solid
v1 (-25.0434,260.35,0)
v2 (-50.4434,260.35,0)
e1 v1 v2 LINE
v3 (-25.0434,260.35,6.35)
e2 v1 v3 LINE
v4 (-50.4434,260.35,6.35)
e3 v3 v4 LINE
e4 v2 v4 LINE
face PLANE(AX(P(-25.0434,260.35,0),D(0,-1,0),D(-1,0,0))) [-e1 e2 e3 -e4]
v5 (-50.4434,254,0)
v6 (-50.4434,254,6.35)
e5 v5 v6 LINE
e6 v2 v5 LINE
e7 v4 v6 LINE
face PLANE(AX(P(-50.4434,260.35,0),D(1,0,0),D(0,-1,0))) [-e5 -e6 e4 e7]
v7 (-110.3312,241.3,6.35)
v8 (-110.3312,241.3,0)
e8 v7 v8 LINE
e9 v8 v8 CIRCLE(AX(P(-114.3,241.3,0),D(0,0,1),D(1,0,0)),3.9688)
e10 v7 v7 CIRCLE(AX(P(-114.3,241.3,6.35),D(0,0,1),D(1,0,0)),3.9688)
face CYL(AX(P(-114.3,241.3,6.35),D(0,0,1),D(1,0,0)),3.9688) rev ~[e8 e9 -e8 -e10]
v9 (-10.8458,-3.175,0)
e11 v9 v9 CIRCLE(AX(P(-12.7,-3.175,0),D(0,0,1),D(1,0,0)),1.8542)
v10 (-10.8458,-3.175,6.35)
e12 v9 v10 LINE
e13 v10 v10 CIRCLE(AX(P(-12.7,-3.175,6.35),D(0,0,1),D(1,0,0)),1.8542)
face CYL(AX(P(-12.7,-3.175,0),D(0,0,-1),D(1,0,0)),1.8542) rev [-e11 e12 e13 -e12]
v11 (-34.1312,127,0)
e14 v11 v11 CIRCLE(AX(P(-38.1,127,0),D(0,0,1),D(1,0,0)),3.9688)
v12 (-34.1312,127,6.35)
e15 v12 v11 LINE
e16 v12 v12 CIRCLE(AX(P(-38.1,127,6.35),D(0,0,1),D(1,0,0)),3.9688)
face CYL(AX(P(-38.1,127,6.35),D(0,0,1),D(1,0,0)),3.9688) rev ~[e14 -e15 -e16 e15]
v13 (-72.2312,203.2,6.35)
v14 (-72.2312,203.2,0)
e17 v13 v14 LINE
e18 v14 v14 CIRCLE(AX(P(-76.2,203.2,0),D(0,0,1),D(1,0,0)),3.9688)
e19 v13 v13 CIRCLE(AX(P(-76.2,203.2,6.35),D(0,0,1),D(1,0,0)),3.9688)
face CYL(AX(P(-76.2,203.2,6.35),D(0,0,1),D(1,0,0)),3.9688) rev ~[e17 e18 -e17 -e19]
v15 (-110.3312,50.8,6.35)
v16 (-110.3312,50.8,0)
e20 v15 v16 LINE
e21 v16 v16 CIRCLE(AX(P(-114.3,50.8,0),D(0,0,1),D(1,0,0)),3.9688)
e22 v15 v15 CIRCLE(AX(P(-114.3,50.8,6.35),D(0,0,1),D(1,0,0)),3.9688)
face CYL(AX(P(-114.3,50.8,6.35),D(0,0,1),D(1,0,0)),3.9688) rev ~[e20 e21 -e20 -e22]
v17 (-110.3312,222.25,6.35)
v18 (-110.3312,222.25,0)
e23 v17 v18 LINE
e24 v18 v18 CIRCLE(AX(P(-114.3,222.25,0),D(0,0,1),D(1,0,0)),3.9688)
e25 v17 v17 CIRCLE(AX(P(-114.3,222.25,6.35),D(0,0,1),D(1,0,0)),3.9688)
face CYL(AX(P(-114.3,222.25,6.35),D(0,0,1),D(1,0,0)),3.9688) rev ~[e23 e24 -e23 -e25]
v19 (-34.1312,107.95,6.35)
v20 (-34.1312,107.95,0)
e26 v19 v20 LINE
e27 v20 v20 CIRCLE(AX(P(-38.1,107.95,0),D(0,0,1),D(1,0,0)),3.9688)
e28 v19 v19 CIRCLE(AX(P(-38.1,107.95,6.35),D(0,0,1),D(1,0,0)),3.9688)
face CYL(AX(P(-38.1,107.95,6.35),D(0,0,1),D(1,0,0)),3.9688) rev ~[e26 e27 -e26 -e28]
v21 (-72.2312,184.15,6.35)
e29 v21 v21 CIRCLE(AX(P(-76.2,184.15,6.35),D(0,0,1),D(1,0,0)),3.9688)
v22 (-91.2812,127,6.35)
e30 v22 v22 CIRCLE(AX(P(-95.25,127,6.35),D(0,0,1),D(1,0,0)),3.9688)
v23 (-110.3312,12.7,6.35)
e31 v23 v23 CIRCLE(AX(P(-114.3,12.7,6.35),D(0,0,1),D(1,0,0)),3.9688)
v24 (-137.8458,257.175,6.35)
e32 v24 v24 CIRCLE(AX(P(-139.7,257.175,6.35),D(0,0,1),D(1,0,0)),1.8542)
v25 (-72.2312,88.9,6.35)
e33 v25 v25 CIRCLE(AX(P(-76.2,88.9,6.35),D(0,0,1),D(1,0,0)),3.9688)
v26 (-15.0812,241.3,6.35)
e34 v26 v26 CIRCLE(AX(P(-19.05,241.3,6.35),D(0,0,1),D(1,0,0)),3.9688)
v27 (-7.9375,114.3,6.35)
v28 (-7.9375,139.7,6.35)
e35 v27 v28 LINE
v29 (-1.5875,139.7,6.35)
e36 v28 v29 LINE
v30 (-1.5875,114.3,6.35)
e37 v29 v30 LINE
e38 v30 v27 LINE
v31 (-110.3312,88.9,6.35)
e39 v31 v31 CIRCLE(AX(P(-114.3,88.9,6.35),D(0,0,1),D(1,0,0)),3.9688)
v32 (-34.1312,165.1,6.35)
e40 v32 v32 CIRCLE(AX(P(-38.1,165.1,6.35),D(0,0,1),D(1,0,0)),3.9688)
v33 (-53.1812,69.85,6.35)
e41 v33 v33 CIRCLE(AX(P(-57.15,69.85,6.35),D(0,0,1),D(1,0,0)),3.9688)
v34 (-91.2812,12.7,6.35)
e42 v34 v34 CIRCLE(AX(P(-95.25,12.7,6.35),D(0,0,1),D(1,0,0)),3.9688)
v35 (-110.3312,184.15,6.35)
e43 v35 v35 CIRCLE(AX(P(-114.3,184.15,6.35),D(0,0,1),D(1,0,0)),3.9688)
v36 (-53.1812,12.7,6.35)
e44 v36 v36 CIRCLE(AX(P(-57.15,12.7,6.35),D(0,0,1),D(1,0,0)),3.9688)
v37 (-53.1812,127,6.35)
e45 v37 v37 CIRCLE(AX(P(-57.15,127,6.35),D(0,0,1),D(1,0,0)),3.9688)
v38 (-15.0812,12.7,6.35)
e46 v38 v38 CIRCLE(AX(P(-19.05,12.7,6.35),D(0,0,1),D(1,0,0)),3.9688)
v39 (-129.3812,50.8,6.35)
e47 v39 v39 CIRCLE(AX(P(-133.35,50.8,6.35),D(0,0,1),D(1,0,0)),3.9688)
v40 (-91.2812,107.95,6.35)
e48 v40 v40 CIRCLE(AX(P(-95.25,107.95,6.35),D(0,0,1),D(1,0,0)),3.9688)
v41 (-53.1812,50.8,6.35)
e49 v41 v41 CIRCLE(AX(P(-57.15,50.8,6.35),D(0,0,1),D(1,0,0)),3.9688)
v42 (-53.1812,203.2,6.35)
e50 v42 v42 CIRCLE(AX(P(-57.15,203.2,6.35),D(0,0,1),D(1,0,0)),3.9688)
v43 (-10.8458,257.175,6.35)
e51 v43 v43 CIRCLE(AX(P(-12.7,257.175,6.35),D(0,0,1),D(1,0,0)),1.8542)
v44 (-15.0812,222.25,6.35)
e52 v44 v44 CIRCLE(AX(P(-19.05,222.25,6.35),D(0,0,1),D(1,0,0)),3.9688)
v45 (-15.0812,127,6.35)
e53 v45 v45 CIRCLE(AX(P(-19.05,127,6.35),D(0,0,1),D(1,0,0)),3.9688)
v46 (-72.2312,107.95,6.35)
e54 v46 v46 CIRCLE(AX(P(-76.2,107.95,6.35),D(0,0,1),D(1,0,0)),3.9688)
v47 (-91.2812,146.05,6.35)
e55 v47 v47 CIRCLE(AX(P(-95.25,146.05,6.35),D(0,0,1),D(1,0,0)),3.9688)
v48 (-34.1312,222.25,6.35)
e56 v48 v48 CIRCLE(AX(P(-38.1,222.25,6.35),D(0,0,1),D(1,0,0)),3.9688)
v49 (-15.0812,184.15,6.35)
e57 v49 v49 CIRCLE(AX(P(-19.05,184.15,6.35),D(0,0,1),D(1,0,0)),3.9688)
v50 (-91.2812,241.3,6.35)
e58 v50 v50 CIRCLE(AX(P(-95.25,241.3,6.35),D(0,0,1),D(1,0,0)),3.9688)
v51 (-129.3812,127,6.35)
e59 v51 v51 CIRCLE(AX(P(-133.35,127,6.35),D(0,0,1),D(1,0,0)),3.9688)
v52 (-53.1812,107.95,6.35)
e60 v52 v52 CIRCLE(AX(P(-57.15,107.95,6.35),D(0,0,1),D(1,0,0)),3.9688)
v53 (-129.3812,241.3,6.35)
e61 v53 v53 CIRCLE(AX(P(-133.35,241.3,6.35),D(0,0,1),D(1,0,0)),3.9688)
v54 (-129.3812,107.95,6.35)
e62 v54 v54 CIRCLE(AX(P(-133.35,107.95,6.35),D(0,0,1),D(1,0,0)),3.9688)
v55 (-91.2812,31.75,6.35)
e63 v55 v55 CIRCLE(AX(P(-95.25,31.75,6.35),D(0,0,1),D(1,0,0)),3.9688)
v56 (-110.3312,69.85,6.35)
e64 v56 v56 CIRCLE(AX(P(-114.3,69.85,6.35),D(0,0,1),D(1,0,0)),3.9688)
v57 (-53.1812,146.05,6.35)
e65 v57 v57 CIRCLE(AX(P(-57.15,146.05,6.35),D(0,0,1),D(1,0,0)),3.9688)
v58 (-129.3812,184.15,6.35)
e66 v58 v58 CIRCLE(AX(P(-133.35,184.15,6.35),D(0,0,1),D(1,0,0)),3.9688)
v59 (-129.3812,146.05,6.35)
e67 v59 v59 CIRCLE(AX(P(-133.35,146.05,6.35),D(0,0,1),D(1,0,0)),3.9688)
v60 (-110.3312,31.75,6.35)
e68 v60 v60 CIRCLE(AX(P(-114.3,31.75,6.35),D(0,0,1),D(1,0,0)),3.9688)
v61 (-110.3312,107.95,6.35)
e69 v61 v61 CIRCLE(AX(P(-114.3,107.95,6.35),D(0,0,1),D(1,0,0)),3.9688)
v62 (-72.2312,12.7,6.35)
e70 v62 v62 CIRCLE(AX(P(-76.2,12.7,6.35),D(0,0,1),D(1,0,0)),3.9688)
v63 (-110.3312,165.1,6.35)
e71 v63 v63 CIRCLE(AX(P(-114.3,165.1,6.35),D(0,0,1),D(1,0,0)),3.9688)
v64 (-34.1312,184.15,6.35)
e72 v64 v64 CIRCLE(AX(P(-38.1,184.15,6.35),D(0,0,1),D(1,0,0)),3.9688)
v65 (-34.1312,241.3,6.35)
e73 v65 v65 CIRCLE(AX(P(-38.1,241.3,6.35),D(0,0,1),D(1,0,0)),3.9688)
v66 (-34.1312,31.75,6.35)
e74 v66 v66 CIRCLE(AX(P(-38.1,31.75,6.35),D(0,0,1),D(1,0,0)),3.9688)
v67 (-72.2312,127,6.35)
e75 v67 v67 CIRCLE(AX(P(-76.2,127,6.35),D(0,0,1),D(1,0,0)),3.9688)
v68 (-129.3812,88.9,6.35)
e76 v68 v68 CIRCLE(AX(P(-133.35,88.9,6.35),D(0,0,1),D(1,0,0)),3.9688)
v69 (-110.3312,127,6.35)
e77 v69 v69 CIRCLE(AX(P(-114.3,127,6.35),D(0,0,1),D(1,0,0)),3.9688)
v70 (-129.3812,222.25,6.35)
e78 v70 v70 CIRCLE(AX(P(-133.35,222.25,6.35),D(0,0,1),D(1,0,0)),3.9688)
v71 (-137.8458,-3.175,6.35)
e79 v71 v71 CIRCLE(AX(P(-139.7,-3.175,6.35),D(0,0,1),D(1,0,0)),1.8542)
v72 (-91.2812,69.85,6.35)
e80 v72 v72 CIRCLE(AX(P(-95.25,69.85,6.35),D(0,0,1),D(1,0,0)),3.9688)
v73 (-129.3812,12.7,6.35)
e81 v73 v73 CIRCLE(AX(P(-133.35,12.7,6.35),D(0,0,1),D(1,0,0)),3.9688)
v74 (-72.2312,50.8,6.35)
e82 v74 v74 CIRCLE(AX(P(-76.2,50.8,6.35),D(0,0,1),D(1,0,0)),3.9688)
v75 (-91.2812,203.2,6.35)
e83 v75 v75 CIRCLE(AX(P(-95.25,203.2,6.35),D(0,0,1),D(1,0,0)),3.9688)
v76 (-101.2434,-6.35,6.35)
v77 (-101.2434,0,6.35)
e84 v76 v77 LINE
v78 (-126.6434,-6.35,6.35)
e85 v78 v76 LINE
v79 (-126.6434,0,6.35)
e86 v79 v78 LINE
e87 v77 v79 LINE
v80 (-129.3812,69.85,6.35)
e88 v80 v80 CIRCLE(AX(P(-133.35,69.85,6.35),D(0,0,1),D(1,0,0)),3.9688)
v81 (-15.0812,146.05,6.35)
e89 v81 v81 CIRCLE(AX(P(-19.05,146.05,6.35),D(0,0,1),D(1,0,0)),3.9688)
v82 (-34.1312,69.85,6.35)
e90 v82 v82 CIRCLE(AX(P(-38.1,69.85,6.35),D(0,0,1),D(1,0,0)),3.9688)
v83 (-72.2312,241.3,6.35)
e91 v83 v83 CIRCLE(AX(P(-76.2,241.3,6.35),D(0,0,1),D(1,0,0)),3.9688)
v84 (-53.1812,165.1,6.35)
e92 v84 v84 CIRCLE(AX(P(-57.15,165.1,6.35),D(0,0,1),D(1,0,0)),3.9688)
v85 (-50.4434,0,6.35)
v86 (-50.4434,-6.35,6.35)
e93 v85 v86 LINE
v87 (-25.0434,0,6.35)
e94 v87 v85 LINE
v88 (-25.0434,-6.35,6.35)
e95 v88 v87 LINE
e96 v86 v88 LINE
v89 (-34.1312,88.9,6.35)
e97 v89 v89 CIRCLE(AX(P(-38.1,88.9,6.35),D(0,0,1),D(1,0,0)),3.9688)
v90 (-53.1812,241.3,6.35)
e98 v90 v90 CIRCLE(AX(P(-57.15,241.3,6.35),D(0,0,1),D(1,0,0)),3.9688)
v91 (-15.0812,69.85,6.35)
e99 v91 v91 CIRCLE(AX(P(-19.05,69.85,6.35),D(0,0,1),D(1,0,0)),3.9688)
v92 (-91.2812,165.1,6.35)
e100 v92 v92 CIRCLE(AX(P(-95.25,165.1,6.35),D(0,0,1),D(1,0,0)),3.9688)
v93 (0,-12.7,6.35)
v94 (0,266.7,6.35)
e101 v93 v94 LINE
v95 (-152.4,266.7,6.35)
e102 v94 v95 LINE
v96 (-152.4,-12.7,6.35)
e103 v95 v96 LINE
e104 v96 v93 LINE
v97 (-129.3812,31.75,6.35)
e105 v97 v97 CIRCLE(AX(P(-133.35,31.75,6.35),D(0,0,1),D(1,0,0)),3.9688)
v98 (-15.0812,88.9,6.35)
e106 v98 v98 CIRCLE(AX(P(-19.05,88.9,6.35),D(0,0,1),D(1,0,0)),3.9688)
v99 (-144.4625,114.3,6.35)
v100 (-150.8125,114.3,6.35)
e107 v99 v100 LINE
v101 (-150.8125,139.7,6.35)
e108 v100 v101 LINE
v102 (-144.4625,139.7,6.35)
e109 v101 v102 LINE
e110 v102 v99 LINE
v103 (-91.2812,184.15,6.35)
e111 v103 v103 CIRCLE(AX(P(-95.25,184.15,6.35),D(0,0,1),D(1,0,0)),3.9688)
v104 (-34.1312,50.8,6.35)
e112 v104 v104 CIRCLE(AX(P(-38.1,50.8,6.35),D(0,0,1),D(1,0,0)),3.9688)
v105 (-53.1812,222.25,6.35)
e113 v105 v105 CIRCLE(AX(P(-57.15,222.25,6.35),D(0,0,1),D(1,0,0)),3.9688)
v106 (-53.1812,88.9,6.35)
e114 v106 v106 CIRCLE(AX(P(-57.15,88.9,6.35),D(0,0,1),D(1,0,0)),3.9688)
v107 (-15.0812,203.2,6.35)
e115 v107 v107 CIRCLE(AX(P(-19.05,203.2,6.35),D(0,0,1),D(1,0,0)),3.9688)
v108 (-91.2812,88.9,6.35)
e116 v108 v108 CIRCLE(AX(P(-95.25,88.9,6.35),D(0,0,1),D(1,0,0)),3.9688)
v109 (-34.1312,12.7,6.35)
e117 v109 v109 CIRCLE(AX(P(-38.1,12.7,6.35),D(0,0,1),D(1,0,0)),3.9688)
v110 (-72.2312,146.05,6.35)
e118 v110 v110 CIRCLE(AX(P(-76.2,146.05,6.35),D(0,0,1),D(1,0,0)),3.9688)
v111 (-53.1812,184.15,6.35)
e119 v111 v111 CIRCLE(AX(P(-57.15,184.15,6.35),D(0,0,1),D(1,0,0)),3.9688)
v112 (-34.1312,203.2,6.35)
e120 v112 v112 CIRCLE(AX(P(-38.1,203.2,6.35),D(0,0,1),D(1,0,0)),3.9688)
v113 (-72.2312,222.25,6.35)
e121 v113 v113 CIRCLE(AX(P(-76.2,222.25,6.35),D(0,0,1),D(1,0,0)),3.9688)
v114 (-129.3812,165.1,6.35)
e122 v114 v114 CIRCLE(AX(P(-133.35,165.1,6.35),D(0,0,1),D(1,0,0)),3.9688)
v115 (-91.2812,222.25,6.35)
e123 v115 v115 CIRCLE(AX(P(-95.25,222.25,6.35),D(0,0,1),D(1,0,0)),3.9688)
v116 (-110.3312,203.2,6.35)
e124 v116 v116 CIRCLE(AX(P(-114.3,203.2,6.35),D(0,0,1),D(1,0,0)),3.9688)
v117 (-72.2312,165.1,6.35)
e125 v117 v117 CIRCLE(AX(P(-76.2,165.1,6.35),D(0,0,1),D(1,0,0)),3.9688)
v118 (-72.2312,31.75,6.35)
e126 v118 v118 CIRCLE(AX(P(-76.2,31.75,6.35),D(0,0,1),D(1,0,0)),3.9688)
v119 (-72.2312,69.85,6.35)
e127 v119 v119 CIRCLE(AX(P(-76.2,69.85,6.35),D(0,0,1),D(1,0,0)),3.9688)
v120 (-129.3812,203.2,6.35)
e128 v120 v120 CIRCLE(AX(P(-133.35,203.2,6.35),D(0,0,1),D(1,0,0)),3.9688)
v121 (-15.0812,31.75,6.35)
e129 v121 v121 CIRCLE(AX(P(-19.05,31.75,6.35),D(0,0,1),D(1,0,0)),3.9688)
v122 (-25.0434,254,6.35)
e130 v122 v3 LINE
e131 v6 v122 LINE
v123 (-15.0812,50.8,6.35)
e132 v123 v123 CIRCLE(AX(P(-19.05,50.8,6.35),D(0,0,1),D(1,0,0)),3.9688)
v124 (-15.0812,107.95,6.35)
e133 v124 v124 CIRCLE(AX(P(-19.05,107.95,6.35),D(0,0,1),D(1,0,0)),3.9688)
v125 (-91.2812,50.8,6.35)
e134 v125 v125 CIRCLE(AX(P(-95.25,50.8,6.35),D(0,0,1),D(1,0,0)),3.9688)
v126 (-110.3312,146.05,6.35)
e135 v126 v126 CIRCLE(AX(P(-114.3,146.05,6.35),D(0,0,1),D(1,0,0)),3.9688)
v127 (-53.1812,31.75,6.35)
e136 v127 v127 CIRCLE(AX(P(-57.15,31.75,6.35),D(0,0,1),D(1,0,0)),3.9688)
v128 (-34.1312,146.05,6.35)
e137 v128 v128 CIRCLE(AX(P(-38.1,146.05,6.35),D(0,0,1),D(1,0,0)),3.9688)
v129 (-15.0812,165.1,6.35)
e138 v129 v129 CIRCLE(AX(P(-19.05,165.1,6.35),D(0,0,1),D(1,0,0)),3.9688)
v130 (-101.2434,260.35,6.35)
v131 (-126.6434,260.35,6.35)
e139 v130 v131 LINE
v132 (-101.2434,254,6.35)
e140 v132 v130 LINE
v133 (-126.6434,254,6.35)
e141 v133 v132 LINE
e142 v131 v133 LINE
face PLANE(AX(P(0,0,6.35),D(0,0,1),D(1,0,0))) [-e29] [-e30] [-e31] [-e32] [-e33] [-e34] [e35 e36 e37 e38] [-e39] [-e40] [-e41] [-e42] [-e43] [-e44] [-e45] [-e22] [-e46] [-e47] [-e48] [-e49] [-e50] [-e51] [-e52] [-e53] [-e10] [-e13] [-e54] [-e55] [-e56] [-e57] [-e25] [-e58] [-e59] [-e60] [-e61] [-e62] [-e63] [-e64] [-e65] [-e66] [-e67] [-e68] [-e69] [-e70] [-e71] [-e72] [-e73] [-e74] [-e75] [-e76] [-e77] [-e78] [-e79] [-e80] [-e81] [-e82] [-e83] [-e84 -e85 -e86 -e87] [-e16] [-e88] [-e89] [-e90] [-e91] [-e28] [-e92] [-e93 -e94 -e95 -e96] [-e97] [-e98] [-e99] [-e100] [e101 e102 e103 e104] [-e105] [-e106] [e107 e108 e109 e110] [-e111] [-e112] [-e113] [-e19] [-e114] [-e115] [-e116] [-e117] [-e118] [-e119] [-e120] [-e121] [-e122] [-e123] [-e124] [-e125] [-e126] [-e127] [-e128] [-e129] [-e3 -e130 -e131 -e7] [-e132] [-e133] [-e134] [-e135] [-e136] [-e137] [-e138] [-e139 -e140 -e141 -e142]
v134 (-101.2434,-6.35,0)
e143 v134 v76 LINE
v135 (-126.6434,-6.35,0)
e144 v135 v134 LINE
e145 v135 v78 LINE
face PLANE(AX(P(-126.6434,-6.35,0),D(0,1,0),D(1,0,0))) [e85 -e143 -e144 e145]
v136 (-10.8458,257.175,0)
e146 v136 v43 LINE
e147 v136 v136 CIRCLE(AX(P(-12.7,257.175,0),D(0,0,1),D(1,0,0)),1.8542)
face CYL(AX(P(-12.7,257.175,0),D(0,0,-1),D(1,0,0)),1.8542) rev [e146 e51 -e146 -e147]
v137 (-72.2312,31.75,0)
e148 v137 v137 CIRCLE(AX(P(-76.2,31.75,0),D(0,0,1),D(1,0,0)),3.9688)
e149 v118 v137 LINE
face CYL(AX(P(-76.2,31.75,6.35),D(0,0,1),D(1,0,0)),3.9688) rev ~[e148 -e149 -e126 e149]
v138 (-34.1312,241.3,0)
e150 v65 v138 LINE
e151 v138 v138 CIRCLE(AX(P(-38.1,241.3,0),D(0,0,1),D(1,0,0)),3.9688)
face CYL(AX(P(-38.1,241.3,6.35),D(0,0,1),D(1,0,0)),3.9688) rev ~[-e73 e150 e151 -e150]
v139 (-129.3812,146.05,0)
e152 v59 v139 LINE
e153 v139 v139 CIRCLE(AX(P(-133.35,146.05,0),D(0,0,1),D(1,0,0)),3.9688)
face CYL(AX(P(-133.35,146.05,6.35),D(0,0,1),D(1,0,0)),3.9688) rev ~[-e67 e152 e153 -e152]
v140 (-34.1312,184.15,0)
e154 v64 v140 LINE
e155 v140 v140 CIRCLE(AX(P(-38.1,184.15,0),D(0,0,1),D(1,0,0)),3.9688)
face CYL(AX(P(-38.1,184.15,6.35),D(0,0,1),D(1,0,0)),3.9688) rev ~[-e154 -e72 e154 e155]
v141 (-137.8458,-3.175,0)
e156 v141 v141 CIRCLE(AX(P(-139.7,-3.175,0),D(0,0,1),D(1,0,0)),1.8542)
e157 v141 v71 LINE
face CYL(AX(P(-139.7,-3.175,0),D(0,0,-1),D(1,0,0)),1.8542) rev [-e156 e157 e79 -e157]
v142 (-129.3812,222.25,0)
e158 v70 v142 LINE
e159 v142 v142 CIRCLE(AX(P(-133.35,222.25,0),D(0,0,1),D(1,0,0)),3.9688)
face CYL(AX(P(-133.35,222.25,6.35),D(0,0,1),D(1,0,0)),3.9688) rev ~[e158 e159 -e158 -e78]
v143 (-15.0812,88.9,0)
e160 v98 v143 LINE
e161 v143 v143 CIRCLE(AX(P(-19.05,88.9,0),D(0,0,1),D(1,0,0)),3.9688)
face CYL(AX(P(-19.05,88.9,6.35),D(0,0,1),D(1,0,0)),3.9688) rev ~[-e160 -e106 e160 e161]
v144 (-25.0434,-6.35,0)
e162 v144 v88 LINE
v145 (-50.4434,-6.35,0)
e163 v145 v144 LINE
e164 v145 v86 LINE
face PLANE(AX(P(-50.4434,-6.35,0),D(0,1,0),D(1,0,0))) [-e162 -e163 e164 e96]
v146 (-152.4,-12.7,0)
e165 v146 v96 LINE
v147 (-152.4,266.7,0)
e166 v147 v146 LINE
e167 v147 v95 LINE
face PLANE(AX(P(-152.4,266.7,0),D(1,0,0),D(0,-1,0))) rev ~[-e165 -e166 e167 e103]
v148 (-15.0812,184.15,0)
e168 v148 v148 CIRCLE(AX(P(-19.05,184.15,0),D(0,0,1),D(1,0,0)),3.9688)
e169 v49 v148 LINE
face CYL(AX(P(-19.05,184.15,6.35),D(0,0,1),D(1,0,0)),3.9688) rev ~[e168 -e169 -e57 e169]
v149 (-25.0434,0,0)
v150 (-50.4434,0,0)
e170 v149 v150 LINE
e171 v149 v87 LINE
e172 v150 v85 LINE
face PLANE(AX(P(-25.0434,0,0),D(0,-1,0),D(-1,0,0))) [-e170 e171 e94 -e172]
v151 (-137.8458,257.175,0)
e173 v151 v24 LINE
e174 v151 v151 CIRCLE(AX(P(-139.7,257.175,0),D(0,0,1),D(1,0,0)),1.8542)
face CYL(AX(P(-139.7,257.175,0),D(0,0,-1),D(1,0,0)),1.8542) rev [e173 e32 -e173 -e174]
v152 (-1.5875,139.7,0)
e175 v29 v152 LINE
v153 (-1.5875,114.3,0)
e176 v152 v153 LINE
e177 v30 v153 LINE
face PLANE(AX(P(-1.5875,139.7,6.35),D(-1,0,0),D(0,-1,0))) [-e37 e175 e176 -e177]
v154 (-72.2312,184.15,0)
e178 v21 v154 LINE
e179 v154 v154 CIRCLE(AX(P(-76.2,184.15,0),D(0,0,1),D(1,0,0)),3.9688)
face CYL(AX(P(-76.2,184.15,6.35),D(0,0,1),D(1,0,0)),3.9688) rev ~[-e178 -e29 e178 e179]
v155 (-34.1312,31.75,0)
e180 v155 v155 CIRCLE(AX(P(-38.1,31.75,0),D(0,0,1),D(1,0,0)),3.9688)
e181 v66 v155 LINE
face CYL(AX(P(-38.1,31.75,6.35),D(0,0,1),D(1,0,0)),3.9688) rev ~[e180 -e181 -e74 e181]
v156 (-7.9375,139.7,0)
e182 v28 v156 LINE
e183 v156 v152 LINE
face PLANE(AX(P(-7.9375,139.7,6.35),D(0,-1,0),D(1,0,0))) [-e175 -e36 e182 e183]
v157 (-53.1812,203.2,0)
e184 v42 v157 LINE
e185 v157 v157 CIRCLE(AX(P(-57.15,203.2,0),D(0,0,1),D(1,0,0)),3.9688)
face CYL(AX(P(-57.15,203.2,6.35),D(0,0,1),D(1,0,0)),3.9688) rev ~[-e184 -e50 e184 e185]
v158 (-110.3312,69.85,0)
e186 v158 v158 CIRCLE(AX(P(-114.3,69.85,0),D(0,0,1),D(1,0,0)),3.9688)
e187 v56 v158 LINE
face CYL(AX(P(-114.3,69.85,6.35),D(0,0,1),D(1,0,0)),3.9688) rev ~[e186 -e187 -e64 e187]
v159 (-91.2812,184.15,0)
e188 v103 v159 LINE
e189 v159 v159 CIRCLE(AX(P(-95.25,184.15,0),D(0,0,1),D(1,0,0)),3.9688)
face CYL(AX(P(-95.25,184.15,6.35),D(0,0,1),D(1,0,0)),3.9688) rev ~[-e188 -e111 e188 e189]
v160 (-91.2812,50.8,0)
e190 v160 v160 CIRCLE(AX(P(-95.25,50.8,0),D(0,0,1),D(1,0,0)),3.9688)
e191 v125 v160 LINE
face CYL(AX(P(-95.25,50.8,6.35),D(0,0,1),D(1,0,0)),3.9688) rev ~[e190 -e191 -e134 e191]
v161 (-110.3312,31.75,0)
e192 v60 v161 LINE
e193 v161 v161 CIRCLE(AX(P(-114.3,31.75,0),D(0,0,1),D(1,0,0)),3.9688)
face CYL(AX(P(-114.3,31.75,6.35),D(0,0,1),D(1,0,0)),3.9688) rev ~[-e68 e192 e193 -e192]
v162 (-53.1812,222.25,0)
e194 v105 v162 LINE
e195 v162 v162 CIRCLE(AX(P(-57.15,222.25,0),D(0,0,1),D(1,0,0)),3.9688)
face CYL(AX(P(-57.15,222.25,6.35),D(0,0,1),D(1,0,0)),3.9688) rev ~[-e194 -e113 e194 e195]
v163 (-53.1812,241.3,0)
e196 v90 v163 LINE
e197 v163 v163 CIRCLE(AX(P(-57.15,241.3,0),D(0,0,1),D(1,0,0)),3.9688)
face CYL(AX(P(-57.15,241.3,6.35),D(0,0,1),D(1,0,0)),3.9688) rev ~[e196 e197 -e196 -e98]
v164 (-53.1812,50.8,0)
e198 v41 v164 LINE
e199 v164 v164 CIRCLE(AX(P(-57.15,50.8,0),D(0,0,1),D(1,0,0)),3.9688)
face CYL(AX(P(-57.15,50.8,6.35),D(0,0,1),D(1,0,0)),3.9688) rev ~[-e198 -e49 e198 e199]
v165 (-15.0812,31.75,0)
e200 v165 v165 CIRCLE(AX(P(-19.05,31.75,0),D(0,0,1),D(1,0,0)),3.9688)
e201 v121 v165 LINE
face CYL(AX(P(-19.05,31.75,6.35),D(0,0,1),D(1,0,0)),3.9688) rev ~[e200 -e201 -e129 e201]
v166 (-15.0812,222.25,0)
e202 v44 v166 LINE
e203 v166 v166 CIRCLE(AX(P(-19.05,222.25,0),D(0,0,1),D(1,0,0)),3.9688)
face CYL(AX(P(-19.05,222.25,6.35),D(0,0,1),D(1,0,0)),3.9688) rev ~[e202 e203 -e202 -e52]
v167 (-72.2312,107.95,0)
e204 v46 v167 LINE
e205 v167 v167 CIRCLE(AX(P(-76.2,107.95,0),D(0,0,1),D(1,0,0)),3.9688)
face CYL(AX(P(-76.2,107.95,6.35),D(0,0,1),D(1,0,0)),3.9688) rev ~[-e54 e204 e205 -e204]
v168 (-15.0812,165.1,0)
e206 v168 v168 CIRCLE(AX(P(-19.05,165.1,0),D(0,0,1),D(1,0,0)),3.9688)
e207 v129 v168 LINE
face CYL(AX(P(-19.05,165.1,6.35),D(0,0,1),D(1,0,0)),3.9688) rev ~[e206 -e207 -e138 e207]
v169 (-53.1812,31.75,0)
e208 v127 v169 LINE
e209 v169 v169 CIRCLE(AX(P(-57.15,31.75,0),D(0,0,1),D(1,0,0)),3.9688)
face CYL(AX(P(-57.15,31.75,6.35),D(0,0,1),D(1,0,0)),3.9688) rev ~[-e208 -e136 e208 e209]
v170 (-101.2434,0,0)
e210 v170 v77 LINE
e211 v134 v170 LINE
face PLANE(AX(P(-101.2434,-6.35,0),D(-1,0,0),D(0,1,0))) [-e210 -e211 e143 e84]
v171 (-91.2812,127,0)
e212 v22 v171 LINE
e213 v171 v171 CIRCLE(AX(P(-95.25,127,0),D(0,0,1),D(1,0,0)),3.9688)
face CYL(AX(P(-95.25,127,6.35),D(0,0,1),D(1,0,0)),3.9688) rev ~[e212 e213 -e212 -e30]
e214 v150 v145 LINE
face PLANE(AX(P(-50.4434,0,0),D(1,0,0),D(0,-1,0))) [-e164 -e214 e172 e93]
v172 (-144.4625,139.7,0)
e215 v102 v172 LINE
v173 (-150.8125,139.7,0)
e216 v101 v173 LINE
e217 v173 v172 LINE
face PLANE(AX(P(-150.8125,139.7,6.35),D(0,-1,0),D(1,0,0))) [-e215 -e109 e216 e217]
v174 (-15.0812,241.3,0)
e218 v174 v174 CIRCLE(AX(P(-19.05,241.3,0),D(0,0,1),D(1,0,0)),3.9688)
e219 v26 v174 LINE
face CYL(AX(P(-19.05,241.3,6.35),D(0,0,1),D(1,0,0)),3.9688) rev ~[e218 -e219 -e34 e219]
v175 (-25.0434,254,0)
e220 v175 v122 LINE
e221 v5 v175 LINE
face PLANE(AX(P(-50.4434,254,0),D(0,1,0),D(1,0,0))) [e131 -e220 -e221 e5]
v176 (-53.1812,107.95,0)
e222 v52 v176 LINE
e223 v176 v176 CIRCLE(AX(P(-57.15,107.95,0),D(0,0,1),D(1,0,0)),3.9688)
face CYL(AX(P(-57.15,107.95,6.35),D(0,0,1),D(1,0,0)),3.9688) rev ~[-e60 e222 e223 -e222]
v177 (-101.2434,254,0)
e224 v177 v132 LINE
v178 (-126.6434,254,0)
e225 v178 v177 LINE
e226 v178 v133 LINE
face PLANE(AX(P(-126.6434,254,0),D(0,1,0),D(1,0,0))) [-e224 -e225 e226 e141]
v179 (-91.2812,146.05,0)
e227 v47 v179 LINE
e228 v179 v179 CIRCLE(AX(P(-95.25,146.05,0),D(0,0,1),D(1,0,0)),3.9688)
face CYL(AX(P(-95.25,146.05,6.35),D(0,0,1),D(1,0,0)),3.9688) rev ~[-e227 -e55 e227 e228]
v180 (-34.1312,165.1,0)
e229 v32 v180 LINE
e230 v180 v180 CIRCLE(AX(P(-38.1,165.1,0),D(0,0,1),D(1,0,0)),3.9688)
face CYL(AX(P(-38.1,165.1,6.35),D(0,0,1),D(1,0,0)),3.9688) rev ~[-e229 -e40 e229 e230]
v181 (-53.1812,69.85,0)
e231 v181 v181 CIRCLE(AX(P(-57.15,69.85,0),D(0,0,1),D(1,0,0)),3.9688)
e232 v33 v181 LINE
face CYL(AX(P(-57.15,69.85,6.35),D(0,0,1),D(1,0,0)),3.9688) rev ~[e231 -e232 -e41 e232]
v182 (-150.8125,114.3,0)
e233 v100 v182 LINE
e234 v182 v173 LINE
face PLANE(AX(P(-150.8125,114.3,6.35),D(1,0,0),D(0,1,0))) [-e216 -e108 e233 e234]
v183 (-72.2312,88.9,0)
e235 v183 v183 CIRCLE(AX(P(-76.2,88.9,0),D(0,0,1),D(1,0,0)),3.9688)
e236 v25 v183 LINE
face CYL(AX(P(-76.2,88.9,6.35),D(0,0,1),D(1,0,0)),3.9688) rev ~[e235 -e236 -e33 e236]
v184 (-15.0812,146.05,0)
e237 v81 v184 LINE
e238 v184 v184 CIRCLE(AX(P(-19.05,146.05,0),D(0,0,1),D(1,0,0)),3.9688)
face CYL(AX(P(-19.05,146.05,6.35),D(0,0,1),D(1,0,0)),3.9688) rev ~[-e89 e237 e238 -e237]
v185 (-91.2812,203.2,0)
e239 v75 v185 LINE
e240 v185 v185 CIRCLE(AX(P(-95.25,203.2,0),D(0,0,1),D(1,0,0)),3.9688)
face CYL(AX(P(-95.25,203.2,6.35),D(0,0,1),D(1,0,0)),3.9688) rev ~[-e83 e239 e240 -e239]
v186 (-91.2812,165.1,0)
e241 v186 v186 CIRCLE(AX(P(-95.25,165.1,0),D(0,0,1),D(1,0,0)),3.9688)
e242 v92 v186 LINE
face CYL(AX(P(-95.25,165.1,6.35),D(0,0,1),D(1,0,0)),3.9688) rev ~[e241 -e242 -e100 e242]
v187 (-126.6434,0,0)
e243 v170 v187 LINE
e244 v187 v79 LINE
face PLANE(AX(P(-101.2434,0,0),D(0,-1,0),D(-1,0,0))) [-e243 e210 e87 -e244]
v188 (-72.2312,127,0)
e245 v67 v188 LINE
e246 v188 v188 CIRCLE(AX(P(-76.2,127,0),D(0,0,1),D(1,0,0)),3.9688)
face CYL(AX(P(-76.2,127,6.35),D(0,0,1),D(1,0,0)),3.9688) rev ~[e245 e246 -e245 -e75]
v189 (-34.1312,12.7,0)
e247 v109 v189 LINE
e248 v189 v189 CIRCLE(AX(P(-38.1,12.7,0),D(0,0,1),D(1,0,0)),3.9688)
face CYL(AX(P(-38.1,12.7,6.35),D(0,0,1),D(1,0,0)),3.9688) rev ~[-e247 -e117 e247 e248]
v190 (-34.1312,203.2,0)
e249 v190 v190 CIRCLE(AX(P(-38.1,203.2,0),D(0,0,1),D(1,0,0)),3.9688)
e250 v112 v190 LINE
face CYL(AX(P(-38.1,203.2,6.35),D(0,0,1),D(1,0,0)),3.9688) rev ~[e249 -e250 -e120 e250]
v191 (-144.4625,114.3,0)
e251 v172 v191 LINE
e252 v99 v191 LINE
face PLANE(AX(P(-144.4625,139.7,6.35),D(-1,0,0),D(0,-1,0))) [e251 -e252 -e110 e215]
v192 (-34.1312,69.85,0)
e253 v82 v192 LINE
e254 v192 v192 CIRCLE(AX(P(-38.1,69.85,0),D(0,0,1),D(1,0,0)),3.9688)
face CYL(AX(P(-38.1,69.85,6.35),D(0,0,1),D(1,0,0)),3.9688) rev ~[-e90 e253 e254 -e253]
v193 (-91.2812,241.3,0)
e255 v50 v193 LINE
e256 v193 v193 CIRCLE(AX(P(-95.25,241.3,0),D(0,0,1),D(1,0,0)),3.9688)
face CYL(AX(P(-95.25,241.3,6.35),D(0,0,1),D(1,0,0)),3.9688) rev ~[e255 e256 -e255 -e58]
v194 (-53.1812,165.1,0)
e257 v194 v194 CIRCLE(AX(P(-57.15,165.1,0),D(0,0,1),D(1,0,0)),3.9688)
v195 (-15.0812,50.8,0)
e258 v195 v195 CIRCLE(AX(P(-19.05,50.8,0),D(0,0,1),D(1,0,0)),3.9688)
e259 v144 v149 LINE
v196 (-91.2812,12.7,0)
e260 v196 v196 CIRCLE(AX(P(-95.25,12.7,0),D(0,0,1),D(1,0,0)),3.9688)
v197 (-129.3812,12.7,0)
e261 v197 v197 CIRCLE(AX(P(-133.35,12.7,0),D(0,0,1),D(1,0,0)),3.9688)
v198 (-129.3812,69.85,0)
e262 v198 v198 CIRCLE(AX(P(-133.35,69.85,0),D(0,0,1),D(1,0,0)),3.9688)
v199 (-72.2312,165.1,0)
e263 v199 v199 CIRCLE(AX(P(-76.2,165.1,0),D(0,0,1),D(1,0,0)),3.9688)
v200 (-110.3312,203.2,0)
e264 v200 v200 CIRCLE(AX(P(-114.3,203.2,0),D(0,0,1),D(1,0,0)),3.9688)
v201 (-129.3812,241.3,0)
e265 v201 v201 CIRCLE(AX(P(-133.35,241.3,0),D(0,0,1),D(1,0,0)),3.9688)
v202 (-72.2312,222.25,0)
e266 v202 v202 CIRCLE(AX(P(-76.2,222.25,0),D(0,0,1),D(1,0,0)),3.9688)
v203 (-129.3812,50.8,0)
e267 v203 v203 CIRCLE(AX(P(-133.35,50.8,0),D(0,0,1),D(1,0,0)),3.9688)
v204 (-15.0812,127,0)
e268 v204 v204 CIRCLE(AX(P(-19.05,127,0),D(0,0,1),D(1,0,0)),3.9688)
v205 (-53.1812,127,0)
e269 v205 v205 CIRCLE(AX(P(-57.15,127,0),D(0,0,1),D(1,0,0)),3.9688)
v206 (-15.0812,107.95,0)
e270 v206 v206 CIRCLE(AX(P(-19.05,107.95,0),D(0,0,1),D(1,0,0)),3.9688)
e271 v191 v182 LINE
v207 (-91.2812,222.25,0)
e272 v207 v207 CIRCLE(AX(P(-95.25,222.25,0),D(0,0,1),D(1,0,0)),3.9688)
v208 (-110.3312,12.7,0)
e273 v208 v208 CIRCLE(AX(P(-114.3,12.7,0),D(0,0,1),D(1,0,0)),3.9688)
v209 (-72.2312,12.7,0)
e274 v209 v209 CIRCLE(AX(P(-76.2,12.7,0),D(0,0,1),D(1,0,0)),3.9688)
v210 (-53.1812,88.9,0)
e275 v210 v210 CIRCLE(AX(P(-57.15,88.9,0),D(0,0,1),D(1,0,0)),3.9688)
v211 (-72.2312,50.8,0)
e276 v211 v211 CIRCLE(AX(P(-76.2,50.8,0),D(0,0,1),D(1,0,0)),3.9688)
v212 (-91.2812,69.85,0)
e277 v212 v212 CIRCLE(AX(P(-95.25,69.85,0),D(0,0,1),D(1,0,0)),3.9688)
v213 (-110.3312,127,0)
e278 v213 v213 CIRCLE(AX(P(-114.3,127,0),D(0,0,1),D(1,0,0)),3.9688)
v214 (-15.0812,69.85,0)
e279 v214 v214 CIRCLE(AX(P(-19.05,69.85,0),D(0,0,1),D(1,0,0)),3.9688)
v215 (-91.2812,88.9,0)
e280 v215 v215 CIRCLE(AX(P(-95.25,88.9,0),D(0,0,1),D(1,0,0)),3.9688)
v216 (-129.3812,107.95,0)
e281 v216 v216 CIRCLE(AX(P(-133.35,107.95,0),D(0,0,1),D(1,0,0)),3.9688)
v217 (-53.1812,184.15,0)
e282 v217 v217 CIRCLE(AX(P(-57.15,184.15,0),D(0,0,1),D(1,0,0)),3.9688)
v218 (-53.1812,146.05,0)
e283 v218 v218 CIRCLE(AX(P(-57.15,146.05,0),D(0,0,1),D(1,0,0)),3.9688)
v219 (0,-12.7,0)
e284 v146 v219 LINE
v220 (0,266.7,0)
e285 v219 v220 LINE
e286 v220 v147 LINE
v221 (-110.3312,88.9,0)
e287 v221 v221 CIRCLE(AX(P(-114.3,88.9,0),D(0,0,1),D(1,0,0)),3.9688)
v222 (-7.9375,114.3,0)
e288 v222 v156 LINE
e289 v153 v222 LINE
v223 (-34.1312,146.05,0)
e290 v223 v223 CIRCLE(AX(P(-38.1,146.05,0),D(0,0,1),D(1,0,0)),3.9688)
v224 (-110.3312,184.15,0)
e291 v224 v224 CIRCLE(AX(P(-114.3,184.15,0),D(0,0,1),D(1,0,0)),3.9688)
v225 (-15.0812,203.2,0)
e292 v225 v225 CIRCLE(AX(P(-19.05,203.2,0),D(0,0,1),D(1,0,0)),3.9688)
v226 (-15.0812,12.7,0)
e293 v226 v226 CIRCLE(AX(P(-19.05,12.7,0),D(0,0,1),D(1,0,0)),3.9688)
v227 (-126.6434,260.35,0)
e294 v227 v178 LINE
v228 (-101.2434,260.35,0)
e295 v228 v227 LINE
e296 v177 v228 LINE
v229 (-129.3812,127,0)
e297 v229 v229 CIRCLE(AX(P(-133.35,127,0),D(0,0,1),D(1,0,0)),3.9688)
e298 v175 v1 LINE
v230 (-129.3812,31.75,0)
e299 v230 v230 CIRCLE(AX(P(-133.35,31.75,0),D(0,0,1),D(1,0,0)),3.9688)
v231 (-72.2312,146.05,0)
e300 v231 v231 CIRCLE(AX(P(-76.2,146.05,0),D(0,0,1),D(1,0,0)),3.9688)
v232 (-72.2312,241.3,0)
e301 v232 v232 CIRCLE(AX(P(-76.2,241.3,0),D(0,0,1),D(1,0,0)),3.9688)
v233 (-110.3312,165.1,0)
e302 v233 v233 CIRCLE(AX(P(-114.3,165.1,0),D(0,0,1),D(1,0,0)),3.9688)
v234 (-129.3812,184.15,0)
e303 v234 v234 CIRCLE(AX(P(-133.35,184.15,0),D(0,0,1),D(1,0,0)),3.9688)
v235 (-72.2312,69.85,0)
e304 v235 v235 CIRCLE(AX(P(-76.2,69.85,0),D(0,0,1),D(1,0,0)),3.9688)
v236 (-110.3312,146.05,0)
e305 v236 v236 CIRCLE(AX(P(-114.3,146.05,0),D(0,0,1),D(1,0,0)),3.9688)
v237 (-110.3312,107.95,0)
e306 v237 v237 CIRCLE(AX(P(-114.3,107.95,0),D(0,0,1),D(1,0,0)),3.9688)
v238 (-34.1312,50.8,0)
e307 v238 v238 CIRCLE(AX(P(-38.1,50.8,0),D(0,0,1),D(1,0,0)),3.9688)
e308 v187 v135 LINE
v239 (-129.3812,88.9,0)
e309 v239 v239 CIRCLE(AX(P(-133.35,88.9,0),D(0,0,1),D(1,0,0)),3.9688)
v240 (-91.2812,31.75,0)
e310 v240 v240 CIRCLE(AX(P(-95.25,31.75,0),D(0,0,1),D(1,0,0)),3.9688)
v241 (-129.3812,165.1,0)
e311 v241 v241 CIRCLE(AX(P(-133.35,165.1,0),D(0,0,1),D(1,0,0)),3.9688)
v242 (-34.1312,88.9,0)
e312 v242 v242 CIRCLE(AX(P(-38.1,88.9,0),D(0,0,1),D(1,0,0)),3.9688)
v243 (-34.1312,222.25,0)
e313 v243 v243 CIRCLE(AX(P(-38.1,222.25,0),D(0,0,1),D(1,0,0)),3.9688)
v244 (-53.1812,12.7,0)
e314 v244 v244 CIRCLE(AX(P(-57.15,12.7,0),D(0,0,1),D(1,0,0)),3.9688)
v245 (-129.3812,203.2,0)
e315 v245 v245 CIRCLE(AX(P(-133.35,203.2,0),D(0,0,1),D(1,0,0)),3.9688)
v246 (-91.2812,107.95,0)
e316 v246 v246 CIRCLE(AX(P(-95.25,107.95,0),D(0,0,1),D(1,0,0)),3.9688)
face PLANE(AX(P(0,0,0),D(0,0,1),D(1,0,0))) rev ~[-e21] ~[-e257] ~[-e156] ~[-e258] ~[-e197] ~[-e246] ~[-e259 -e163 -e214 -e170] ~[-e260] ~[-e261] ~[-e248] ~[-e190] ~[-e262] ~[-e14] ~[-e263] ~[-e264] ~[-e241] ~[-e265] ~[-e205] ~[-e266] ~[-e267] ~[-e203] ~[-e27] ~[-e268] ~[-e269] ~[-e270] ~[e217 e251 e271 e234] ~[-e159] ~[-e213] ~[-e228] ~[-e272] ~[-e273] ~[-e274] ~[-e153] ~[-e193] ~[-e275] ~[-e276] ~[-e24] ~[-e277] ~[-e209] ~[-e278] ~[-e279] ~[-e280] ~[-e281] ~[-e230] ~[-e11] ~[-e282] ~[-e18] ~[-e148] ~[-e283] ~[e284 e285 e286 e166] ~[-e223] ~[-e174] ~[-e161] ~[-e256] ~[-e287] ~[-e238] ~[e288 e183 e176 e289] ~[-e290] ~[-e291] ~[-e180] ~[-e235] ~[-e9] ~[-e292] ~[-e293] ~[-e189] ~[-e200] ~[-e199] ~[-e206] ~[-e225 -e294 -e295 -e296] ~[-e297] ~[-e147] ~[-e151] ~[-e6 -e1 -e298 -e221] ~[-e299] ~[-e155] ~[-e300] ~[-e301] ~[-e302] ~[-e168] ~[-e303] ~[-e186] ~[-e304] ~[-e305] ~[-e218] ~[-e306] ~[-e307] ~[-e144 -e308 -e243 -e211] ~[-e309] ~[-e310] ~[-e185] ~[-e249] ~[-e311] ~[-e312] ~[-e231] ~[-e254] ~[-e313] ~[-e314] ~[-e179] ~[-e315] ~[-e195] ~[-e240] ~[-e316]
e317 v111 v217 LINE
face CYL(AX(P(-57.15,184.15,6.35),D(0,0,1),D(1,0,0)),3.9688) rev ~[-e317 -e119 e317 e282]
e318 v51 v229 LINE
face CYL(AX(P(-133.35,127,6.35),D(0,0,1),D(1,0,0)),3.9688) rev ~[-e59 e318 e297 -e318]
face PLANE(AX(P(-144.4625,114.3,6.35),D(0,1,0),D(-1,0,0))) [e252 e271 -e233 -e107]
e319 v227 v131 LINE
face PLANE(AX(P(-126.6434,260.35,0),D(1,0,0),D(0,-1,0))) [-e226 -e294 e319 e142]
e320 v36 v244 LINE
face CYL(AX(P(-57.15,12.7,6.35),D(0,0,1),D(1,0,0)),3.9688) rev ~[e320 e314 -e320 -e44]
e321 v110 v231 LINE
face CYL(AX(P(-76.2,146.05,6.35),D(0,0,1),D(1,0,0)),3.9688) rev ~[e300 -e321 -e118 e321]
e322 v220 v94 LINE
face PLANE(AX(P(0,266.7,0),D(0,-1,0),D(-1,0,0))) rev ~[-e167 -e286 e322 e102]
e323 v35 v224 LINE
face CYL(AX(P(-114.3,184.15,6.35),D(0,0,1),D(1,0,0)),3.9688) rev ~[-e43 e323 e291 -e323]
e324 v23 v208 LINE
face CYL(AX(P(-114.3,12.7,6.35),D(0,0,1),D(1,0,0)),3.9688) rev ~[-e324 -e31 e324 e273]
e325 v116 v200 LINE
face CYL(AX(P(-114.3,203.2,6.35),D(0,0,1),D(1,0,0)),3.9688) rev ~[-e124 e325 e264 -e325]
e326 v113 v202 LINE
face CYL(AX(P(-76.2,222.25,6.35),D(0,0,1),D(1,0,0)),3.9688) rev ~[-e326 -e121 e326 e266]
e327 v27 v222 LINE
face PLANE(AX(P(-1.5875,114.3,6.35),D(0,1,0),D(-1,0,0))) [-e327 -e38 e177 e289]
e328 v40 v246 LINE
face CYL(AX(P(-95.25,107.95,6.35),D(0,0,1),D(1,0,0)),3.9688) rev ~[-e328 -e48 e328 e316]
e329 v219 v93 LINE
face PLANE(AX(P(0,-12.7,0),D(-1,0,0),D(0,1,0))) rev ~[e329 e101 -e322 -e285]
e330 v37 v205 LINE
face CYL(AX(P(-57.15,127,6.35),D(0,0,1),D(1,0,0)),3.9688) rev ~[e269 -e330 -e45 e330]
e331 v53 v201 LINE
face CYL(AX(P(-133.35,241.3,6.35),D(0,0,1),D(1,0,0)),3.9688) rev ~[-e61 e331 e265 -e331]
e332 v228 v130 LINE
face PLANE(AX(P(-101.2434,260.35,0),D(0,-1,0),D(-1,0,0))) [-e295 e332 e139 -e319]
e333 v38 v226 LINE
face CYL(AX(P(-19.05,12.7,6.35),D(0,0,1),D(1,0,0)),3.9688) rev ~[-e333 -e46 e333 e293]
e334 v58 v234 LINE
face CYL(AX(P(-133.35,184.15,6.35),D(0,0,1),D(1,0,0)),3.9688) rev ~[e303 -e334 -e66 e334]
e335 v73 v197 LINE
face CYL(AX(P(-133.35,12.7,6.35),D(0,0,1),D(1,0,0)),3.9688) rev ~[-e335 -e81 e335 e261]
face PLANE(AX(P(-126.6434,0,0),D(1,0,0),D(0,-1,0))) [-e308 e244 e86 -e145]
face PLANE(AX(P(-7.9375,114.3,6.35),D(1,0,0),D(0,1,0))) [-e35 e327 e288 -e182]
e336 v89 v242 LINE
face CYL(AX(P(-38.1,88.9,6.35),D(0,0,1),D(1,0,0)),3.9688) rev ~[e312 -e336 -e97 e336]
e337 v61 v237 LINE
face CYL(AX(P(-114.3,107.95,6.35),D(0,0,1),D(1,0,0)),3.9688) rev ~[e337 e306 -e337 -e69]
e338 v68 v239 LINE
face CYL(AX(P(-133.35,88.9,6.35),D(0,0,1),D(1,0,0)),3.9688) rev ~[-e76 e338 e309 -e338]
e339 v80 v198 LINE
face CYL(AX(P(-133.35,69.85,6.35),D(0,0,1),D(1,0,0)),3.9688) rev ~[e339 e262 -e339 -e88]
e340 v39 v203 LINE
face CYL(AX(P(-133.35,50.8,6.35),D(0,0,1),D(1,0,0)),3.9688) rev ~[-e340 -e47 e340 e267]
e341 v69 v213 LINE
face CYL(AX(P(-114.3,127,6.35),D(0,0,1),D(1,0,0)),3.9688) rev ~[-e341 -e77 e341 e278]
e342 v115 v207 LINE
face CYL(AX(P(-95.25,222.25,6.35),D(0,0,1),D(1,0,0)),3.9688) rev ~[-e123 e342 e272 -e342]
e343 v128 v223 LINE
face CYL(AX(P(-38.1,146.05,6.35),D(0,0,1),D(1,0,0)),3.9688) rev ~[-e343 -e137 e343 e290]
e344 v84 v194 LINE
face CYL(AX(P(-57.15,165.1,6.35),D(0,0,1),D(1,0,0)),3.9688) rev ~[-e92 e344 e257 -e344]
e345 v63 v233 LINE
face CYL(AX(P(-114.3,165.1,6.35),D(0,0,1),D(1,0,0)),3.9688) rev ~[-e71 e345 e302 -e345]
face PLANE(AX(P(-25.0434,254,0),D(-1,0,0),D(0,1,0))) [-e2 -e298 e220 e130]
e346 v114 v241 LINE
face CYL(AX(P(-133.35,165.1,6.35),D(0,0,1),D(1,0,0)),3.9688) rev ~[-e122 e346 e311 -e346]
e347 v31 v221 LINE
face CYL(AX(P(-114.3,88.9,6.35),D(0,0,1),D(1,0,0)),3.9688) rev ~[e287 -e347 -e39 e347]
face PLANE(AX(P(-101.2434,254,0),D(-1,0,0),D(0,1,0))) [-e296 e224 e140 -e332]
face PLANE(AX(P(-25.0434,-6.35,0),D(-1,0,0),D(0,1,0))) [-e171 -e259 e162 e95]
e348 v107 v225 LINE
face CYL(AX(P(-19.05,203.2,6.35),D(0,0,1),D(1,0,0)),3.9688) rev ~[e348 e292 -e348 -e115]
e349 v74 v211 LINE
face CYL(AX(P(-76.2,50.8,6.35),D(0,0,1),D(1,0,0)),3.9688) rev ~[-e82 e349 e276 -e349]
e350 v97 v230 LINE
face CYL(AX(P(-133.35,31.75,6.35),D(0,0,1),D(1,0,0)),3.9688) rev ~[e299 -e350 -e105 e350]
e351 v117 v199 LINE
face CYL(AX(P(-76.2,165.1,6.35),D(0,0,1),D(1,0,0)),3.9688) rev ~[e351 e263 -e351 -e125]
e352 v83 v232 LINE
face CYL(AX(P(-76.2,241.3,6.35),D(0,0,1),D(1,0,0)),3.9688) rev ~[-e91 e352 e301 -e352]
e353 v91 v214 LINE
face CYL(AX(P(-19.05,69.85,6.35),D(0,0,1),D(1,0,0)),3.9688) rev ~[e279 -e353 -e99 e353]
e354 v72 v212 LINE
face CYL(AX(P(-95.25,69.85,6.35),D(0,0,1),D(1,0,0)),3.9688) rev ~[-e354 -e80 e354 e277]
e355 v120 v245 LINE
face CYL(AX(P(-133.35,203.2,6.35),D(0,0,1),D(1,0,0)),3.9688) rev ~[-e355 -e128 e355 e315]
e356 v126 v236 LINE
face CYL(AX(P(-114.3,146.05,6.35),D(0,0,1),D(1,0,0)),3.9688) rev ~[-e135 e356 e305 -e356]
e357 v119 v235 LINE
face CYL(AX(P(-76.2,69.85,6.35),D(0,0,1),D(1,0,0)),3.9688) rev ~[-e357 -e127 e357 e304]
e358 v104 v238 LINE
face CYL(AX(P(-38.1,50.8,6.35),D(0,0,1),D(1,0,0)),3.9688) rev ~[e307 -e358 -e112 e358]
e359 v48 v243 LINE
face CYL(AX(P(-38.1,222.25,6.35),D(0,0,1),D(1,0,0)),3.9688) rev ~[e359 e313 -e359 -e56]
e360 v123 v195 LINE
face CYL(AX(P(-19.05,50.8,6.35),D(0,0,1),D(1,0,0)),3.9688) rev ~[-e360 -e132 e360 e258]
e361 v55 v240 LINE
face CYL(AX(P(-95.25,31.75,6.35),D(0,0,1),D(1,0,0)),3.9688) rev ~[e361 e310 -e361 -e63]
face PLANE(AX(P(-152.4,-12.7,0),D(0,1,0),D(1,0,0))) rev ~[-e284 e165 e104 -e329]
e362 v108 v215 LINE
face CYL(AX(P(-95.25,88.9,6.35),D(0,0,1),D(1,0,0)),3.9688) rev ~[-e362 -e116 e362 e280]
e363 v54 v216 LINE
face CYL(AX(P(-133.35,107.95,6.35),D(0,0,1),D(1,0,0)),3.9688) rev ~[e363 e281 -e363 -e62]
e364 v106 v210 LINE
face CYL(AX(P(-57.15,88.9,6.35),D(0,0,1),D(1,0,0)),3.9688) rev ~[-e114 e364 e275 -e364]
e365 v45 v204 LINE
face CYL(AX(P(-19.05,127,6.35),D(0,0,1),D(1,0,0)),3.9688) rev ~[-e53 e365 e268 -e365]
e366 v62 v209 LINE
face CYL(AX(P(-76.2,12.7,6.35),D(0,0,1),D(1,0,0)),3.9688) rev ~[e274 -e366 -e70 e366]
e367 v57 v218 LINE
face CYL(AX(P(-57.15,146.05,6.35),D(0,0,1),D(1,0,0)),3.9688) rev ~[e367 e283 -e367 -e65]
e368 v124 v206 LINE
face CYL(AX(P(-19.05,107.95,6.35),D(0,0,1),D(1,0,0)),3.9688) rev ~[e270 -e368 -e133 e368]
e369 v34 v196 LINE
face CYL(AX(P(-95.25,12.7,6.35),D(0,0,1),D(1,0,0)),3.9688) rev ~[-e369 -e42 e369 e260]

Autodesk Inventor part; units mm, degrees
ref_plane "YZ Plane" through (0, 0, 0) normal (1, 0, 0) x (0, 1, 0)
ref_plane "XZ Plane" through (0, 0, 0) normal (0, 1, 0) x (-1, 0, 0)
ref_plane "XY Plane" through (0, 0, 0) normal (0, 0, 1) x (1, 0, 0)
sketch "Sketch1" plane through (0, 0, 0) normal (0, 0, 1) x (1, 0, 0)
  line L0 (0, -12.7) -> (0, 266.7) projected
  line L1 (-152.4, 266.7) -> (-152.4, -12.7) projected
  line L2 (0, 266.7) -> (-152.4, 266.7) projected
  line L3 (-152.4, -12.7) -> (0, -12.7) projected
  line L4 (-126.6434, 0) -> (-126.6434, -6.35) projected
  line L5 (-126.6434, -6.35) -> (-101.2434, -6.35) projected
  line L6 (-101.2434, -6.35) -> (-101.2434, 0) projected
  line L7 (-101.2434, 0) -> (-126.6434, 0) projected
  line L8 (-50.4434, 0) -> (-50.4434, -6.35) projected
  line L9 (-50.4434, -6.35) -> (-25.0434, -6.35) projected
  line L10 (-25.0434, -6.35) -> (-25.0434, 0) projected
  line L11 (-25.0434, 0) -> (-50.4434, 0) projected
  line L12 (-126.6434, 260.35) -> (-126.6434, 254) projected
  line L13 (-126.6434, 254) -> (-101.2434, 254) projected
  line L14 (-101.2434, 254) -> (-101.2434, 260.35) projected
  line L15 (-101.2434, 260.35) -> (-126.6434, 260.35) projected
  line L16 (-50.4434, 260.35) -> (-50.4434, 254) projected
  line L17 (-50.4434, 254) -> (-25.0434, 254) projected
  line L18 (-25.0434, 254) -> (-25.0434, 260.35) projected
  line L19 (-25.0434, 260.35) -> (-50.4434, 260.35) projected
  circle A0 centre (-12.7, 257.175) radius 1.8542 projected
  circle A1 centre (-139.7, 257.175) radius 1.8542 projected
  circle A2 centre (-139.7, -3.175) radius 1.8542 projected
  circle A3 centre (-12.7, -3.175) radius 1.8542 projected
  point P0 (0, 0)
extrude "Extrusion1" add sketch "Sketch1" along normal blind 6.35
sketch "Sketch2" plane through (0, 0, 6.35) normal (0, 0, 1) x (1, 0, 0)
  line L0 (-150.8125, 139.7) -> (-144.4625, 139.7) projected
  line L1 (-150.8125, 114.3) -> (-150.8125, 139.7) projected
  line L2 (-144.4625, 114.3) -> (-150.8125, 114.3) projected
  line L3 (-144.4625, 139.7) -> (-144.4625, 114.3) projected
  line L4 (-7.9375, 139.7) -> (-1.5875, 139.7) projected
  line L5 (-7.9375, 114.3) -> (-7.9375, 139.7) projected
  line L6 (-1.5875, 114.3) -> (-7.9375, 114.3) projected
  line L7 (-1.5875, 139.7) -> (-1.5875, 114.3) projected
  point P0 (0, 0)
extrude "Extrusion2" cut sketch "Sketch2" against normal through all
sketch "Sketch3" plane through (0, 0, 6.35) normal (0, 0, 1) x (1, 0, 0)
  line L0 (0, -12.7) -> (0, 266.7) projected
  line L1 (0, 266.7) -> (-152.4, 266.7) projected
  line L2 (-152.4, 266.7) -> (-152.4, -12.7) projected
  line L3 (-152.4, -12.7) -> (0, -12.7) projected
  circle A0 centre (-133.35, 241.3) radius 3.9688
  circle A1 centre (-133.35, 222.25) radius 3.9688
  circle A2 centre (-133.35, 203.2) radius 3.9688
  circle A3 centre (-133.35, 184.15) radius 3.9688
  circle A4 centre (-133.35, 165.1) radius 3.9688
  circle A5 centre (-133.35, 146.05) radius 3.9688
  circle A6 centre (-133.35, 127) radius 3.9688
  circle A7 centre (-133.35, 107.95) radius 3.9688
  circle A8 centre (-133.35, 88.9) radius 3.9688
  circle A9 centre (-133.35, 69.85) radius 3.9688
  circle A10 centre (-133.35, 50.8) radius 3.9688
  circle A11 centre (-133.35, 31.75) radius 3.9688
  circle A12 centre (-133.35, 12.7) radius 3.9688
  circle A13 centre (-114.3, 241.3) radius 3.9688
  circle A14 centre (-114.3, 222.25) radius 3.9688
  circle A15 centre (-114.3, 203.2) radius 3.9688
  circle A16 centre (-114.3, 184.15) radius 3.9688
  circle A17 centre (-114.3, 165.1) radius 3.9688
  circle A18 centre (-114.3, 146.05) radius 3.9688
  circle A19 centre (-114.3, 127) radius 3.9688
  circle A20 centre (-114.3, 107.95) radius 3.9688
  circle A21 centre (-114.3, 88.9) radius 3.9688
  circle A22 centre (-114.3, 69.85) radius 3.9688
  circle A23 centre (-114.3, 50.8) radius 3.9688
  circle A24 centre (-114.3, 31.75) radius 3.9688
  circle A25 centre (-114.3, 12.7) radius 3.9688
  circle A26 centre (-95.25, 241.3) radius 3.9688
  circle A27 centre (-95.25, 222.25) radius 3.9688
  circle A28 centre (-95.25, 203.2) radius 3.9688
  circle A29 centre (-95.25, 184.15) radius 3.9688
  circle A30 centre (-95.25, 165.1) radius 3.9688
  circle A31 centre (-95.25, 146.05) radius 3.9688
  circle A32 centre (-95.25, 127) radius 3.9688
  circle A33 centre (-95.25, 107.95) radius 3.9688
  circle A34 centre (-95.25, 88.9) radius 3.9688
  circle A35 centre (-95.25, 69.85) radius 3.9688
  circle A36 centre (-95.25, 50.8) radius 3.9688
  circle A37 centre (-95.25, 31.75) radius 3.9688
  circle A38 centre (-95.25, 12.7) radius 3.9688
  circle A39 centre (-76.2, 241.3) radius 3.9688
  circle A40 centre (-76.2, 222.25) radius 3.9688
  circle A41 centre (-76.2, 203.2) radius 3.9688
  circle A42 centre (-76.2, 184.15) radius 3.9688
  circle A43 centre (-76.2, 165.1) radius 3.9688
  circle A44 centre (-76.2, 146.05) radius 3.9688
  circle A45 centre (-76.2, 127) radius 3.9688
  circle A46 centre (-76.2, 107.95) radius 3.9688
  circle A47 centre (-76.2, 88.9) radius 3.9688
  circle A48 centre (-76.2, 69.85) radius 3.9688
  circle A49 centre (-76.2, 50.8) radius 3.9688
  circle A50 centre (-76.2, 31.75) radius 3.9688
  circle A51 centre (-76.2, 12.7) radius 3.9688
  circle A52 centre (-57.15, 241.3) radius 3.9688
  circle A53 centre (-57.15, 222.25) radius 3.9688
  circle A54 centre (-57.15, 203.2) radius 3.9688
  circle A55 centre (-57.15, 184.15) radius 3.9688
  circle A56 centre (-57.15, 165.1) radius 3.9688
  circle A57 centre (-57.15, 146.05) radius 3.9688
  circle A58 centre (-57.15, 127) radius 3.9688
  circle A59 centre (-57.15, 107.95) radius 3.9688
  circle A60 centre (-57.15, 88.9) radius 3.9688
  circle A61 centre (-57.15, 69.85) radius 3.9688
  circle A62 centre (-57.15, 50.8) radius 3.9688
  circle A63 centre (-57.15, 31.75) radius 3.9688
  circle A64 centre (-57.15, 12.7) radius 3.9688
  circle A65 centre (-38.1, 241.3) radius 3.9688
  circle A66 centre (-38.1, 222.25) radius 3.9688
  circle A67 centre (-38.1, 203.2) radius 3.9688
  circle A68 centre (-38.1, 184.15) radius 3.9688
  circle A69 centre (-38.1, 165.1) radius 3.9688
  circle A70 centre (-38.1, 146.05) radius 3.9688
  circle A71 centre (-38.1, 127) radius 3.9688
  circle A72 centre (-38.1, 107.95) radius 3.9688
  circle A73 centre (-38.1, 88.9) radius 3.9688
  circle A74 centre (-38.1, 69.85) radius 3.9688
  circle A75 centre (-38.1, 50.8) radius 3.9688
  circle A76 centre (-38.1, 31.75) radius 3.9688
  circle A77 centre (-38.1, 12.7) radius 3.9688
  circle A78 centre (-19.05, 241.3) radius 3.9688
  circle A79 centre (-19.05, 222.25) radius 3.9688
  circle A80 centre (-19.05, 203.2) radius 3.9688
  circle A81 centre (-19.05, 184.15) radius 3.9688
  circle A82 centre (-19.05, 165.1) radius 3.9688
  circle A83 centre (-19.05, 146.05) radius 3.9688
  circle A84 centre (-19.05, 127) radius 3.9688
  circle A85 centre (-19.05, 107.95) radius 3.9688
  circle A86 centre (-19.05, 88.9) radius 3.9688
  circle A87 centre (-19.05, 69.85) radius 3.9688
  circle A88 centre (-19.05, 50.8) radius 3.9688
  circle A89 centre (-19.05, 31.75) radius 3.9688
  circle A90 centre (-19.05, 12.7) radius 3.9688
  point P0 (0, 0)
  dimension "d4" = 7.9375
  dimension "d7" = 19.05
  dimension "d10" = 19.05
  dimension "d13" = 25.4
  dimension "d14" = 25.4
  dimension "d15" = 19.05
  dimension "d16" = 19.05
extrude "Extrusion3" cut sketch "Sketch3" against normal through all contours A0 | A1 | A2 | A3 | A4 | A5 | A6 | A7 | A8 | A9 | A10 | A11 | A12 | A13 | A14 | A15 | A16 | A17 | A18 | A19 | A20 | A21 | A22 | A23 | A24 | A25 | A26 | A27 | A28 | A29 | A30 | A31 | A32 | A33 | A34 | A35 | A36 | A37 | A38 | A39 | A40 | A41 | A42 | A43 | A44 | A45 | A46 | A47 | A48 | A49 | A50 | A51 | A52 | A53 | A54 | A55 | A56 | A57 | A58 | A59 | A60 | A61 | A62 | A63 | A64 | A65 | A66 | A67 | A68 | A69 | A70 | A71 | A72 | A73 | A74 | A75 | A76 | A77 | A78 | A79 | A80 | A81 | A82 | A83 | A84 | A85 | A86 | A87 | A88 | A89 | A90
equation "\"d13\" = d14"
equation "\"d15\" = d16"
properties part number "basePanel01"
